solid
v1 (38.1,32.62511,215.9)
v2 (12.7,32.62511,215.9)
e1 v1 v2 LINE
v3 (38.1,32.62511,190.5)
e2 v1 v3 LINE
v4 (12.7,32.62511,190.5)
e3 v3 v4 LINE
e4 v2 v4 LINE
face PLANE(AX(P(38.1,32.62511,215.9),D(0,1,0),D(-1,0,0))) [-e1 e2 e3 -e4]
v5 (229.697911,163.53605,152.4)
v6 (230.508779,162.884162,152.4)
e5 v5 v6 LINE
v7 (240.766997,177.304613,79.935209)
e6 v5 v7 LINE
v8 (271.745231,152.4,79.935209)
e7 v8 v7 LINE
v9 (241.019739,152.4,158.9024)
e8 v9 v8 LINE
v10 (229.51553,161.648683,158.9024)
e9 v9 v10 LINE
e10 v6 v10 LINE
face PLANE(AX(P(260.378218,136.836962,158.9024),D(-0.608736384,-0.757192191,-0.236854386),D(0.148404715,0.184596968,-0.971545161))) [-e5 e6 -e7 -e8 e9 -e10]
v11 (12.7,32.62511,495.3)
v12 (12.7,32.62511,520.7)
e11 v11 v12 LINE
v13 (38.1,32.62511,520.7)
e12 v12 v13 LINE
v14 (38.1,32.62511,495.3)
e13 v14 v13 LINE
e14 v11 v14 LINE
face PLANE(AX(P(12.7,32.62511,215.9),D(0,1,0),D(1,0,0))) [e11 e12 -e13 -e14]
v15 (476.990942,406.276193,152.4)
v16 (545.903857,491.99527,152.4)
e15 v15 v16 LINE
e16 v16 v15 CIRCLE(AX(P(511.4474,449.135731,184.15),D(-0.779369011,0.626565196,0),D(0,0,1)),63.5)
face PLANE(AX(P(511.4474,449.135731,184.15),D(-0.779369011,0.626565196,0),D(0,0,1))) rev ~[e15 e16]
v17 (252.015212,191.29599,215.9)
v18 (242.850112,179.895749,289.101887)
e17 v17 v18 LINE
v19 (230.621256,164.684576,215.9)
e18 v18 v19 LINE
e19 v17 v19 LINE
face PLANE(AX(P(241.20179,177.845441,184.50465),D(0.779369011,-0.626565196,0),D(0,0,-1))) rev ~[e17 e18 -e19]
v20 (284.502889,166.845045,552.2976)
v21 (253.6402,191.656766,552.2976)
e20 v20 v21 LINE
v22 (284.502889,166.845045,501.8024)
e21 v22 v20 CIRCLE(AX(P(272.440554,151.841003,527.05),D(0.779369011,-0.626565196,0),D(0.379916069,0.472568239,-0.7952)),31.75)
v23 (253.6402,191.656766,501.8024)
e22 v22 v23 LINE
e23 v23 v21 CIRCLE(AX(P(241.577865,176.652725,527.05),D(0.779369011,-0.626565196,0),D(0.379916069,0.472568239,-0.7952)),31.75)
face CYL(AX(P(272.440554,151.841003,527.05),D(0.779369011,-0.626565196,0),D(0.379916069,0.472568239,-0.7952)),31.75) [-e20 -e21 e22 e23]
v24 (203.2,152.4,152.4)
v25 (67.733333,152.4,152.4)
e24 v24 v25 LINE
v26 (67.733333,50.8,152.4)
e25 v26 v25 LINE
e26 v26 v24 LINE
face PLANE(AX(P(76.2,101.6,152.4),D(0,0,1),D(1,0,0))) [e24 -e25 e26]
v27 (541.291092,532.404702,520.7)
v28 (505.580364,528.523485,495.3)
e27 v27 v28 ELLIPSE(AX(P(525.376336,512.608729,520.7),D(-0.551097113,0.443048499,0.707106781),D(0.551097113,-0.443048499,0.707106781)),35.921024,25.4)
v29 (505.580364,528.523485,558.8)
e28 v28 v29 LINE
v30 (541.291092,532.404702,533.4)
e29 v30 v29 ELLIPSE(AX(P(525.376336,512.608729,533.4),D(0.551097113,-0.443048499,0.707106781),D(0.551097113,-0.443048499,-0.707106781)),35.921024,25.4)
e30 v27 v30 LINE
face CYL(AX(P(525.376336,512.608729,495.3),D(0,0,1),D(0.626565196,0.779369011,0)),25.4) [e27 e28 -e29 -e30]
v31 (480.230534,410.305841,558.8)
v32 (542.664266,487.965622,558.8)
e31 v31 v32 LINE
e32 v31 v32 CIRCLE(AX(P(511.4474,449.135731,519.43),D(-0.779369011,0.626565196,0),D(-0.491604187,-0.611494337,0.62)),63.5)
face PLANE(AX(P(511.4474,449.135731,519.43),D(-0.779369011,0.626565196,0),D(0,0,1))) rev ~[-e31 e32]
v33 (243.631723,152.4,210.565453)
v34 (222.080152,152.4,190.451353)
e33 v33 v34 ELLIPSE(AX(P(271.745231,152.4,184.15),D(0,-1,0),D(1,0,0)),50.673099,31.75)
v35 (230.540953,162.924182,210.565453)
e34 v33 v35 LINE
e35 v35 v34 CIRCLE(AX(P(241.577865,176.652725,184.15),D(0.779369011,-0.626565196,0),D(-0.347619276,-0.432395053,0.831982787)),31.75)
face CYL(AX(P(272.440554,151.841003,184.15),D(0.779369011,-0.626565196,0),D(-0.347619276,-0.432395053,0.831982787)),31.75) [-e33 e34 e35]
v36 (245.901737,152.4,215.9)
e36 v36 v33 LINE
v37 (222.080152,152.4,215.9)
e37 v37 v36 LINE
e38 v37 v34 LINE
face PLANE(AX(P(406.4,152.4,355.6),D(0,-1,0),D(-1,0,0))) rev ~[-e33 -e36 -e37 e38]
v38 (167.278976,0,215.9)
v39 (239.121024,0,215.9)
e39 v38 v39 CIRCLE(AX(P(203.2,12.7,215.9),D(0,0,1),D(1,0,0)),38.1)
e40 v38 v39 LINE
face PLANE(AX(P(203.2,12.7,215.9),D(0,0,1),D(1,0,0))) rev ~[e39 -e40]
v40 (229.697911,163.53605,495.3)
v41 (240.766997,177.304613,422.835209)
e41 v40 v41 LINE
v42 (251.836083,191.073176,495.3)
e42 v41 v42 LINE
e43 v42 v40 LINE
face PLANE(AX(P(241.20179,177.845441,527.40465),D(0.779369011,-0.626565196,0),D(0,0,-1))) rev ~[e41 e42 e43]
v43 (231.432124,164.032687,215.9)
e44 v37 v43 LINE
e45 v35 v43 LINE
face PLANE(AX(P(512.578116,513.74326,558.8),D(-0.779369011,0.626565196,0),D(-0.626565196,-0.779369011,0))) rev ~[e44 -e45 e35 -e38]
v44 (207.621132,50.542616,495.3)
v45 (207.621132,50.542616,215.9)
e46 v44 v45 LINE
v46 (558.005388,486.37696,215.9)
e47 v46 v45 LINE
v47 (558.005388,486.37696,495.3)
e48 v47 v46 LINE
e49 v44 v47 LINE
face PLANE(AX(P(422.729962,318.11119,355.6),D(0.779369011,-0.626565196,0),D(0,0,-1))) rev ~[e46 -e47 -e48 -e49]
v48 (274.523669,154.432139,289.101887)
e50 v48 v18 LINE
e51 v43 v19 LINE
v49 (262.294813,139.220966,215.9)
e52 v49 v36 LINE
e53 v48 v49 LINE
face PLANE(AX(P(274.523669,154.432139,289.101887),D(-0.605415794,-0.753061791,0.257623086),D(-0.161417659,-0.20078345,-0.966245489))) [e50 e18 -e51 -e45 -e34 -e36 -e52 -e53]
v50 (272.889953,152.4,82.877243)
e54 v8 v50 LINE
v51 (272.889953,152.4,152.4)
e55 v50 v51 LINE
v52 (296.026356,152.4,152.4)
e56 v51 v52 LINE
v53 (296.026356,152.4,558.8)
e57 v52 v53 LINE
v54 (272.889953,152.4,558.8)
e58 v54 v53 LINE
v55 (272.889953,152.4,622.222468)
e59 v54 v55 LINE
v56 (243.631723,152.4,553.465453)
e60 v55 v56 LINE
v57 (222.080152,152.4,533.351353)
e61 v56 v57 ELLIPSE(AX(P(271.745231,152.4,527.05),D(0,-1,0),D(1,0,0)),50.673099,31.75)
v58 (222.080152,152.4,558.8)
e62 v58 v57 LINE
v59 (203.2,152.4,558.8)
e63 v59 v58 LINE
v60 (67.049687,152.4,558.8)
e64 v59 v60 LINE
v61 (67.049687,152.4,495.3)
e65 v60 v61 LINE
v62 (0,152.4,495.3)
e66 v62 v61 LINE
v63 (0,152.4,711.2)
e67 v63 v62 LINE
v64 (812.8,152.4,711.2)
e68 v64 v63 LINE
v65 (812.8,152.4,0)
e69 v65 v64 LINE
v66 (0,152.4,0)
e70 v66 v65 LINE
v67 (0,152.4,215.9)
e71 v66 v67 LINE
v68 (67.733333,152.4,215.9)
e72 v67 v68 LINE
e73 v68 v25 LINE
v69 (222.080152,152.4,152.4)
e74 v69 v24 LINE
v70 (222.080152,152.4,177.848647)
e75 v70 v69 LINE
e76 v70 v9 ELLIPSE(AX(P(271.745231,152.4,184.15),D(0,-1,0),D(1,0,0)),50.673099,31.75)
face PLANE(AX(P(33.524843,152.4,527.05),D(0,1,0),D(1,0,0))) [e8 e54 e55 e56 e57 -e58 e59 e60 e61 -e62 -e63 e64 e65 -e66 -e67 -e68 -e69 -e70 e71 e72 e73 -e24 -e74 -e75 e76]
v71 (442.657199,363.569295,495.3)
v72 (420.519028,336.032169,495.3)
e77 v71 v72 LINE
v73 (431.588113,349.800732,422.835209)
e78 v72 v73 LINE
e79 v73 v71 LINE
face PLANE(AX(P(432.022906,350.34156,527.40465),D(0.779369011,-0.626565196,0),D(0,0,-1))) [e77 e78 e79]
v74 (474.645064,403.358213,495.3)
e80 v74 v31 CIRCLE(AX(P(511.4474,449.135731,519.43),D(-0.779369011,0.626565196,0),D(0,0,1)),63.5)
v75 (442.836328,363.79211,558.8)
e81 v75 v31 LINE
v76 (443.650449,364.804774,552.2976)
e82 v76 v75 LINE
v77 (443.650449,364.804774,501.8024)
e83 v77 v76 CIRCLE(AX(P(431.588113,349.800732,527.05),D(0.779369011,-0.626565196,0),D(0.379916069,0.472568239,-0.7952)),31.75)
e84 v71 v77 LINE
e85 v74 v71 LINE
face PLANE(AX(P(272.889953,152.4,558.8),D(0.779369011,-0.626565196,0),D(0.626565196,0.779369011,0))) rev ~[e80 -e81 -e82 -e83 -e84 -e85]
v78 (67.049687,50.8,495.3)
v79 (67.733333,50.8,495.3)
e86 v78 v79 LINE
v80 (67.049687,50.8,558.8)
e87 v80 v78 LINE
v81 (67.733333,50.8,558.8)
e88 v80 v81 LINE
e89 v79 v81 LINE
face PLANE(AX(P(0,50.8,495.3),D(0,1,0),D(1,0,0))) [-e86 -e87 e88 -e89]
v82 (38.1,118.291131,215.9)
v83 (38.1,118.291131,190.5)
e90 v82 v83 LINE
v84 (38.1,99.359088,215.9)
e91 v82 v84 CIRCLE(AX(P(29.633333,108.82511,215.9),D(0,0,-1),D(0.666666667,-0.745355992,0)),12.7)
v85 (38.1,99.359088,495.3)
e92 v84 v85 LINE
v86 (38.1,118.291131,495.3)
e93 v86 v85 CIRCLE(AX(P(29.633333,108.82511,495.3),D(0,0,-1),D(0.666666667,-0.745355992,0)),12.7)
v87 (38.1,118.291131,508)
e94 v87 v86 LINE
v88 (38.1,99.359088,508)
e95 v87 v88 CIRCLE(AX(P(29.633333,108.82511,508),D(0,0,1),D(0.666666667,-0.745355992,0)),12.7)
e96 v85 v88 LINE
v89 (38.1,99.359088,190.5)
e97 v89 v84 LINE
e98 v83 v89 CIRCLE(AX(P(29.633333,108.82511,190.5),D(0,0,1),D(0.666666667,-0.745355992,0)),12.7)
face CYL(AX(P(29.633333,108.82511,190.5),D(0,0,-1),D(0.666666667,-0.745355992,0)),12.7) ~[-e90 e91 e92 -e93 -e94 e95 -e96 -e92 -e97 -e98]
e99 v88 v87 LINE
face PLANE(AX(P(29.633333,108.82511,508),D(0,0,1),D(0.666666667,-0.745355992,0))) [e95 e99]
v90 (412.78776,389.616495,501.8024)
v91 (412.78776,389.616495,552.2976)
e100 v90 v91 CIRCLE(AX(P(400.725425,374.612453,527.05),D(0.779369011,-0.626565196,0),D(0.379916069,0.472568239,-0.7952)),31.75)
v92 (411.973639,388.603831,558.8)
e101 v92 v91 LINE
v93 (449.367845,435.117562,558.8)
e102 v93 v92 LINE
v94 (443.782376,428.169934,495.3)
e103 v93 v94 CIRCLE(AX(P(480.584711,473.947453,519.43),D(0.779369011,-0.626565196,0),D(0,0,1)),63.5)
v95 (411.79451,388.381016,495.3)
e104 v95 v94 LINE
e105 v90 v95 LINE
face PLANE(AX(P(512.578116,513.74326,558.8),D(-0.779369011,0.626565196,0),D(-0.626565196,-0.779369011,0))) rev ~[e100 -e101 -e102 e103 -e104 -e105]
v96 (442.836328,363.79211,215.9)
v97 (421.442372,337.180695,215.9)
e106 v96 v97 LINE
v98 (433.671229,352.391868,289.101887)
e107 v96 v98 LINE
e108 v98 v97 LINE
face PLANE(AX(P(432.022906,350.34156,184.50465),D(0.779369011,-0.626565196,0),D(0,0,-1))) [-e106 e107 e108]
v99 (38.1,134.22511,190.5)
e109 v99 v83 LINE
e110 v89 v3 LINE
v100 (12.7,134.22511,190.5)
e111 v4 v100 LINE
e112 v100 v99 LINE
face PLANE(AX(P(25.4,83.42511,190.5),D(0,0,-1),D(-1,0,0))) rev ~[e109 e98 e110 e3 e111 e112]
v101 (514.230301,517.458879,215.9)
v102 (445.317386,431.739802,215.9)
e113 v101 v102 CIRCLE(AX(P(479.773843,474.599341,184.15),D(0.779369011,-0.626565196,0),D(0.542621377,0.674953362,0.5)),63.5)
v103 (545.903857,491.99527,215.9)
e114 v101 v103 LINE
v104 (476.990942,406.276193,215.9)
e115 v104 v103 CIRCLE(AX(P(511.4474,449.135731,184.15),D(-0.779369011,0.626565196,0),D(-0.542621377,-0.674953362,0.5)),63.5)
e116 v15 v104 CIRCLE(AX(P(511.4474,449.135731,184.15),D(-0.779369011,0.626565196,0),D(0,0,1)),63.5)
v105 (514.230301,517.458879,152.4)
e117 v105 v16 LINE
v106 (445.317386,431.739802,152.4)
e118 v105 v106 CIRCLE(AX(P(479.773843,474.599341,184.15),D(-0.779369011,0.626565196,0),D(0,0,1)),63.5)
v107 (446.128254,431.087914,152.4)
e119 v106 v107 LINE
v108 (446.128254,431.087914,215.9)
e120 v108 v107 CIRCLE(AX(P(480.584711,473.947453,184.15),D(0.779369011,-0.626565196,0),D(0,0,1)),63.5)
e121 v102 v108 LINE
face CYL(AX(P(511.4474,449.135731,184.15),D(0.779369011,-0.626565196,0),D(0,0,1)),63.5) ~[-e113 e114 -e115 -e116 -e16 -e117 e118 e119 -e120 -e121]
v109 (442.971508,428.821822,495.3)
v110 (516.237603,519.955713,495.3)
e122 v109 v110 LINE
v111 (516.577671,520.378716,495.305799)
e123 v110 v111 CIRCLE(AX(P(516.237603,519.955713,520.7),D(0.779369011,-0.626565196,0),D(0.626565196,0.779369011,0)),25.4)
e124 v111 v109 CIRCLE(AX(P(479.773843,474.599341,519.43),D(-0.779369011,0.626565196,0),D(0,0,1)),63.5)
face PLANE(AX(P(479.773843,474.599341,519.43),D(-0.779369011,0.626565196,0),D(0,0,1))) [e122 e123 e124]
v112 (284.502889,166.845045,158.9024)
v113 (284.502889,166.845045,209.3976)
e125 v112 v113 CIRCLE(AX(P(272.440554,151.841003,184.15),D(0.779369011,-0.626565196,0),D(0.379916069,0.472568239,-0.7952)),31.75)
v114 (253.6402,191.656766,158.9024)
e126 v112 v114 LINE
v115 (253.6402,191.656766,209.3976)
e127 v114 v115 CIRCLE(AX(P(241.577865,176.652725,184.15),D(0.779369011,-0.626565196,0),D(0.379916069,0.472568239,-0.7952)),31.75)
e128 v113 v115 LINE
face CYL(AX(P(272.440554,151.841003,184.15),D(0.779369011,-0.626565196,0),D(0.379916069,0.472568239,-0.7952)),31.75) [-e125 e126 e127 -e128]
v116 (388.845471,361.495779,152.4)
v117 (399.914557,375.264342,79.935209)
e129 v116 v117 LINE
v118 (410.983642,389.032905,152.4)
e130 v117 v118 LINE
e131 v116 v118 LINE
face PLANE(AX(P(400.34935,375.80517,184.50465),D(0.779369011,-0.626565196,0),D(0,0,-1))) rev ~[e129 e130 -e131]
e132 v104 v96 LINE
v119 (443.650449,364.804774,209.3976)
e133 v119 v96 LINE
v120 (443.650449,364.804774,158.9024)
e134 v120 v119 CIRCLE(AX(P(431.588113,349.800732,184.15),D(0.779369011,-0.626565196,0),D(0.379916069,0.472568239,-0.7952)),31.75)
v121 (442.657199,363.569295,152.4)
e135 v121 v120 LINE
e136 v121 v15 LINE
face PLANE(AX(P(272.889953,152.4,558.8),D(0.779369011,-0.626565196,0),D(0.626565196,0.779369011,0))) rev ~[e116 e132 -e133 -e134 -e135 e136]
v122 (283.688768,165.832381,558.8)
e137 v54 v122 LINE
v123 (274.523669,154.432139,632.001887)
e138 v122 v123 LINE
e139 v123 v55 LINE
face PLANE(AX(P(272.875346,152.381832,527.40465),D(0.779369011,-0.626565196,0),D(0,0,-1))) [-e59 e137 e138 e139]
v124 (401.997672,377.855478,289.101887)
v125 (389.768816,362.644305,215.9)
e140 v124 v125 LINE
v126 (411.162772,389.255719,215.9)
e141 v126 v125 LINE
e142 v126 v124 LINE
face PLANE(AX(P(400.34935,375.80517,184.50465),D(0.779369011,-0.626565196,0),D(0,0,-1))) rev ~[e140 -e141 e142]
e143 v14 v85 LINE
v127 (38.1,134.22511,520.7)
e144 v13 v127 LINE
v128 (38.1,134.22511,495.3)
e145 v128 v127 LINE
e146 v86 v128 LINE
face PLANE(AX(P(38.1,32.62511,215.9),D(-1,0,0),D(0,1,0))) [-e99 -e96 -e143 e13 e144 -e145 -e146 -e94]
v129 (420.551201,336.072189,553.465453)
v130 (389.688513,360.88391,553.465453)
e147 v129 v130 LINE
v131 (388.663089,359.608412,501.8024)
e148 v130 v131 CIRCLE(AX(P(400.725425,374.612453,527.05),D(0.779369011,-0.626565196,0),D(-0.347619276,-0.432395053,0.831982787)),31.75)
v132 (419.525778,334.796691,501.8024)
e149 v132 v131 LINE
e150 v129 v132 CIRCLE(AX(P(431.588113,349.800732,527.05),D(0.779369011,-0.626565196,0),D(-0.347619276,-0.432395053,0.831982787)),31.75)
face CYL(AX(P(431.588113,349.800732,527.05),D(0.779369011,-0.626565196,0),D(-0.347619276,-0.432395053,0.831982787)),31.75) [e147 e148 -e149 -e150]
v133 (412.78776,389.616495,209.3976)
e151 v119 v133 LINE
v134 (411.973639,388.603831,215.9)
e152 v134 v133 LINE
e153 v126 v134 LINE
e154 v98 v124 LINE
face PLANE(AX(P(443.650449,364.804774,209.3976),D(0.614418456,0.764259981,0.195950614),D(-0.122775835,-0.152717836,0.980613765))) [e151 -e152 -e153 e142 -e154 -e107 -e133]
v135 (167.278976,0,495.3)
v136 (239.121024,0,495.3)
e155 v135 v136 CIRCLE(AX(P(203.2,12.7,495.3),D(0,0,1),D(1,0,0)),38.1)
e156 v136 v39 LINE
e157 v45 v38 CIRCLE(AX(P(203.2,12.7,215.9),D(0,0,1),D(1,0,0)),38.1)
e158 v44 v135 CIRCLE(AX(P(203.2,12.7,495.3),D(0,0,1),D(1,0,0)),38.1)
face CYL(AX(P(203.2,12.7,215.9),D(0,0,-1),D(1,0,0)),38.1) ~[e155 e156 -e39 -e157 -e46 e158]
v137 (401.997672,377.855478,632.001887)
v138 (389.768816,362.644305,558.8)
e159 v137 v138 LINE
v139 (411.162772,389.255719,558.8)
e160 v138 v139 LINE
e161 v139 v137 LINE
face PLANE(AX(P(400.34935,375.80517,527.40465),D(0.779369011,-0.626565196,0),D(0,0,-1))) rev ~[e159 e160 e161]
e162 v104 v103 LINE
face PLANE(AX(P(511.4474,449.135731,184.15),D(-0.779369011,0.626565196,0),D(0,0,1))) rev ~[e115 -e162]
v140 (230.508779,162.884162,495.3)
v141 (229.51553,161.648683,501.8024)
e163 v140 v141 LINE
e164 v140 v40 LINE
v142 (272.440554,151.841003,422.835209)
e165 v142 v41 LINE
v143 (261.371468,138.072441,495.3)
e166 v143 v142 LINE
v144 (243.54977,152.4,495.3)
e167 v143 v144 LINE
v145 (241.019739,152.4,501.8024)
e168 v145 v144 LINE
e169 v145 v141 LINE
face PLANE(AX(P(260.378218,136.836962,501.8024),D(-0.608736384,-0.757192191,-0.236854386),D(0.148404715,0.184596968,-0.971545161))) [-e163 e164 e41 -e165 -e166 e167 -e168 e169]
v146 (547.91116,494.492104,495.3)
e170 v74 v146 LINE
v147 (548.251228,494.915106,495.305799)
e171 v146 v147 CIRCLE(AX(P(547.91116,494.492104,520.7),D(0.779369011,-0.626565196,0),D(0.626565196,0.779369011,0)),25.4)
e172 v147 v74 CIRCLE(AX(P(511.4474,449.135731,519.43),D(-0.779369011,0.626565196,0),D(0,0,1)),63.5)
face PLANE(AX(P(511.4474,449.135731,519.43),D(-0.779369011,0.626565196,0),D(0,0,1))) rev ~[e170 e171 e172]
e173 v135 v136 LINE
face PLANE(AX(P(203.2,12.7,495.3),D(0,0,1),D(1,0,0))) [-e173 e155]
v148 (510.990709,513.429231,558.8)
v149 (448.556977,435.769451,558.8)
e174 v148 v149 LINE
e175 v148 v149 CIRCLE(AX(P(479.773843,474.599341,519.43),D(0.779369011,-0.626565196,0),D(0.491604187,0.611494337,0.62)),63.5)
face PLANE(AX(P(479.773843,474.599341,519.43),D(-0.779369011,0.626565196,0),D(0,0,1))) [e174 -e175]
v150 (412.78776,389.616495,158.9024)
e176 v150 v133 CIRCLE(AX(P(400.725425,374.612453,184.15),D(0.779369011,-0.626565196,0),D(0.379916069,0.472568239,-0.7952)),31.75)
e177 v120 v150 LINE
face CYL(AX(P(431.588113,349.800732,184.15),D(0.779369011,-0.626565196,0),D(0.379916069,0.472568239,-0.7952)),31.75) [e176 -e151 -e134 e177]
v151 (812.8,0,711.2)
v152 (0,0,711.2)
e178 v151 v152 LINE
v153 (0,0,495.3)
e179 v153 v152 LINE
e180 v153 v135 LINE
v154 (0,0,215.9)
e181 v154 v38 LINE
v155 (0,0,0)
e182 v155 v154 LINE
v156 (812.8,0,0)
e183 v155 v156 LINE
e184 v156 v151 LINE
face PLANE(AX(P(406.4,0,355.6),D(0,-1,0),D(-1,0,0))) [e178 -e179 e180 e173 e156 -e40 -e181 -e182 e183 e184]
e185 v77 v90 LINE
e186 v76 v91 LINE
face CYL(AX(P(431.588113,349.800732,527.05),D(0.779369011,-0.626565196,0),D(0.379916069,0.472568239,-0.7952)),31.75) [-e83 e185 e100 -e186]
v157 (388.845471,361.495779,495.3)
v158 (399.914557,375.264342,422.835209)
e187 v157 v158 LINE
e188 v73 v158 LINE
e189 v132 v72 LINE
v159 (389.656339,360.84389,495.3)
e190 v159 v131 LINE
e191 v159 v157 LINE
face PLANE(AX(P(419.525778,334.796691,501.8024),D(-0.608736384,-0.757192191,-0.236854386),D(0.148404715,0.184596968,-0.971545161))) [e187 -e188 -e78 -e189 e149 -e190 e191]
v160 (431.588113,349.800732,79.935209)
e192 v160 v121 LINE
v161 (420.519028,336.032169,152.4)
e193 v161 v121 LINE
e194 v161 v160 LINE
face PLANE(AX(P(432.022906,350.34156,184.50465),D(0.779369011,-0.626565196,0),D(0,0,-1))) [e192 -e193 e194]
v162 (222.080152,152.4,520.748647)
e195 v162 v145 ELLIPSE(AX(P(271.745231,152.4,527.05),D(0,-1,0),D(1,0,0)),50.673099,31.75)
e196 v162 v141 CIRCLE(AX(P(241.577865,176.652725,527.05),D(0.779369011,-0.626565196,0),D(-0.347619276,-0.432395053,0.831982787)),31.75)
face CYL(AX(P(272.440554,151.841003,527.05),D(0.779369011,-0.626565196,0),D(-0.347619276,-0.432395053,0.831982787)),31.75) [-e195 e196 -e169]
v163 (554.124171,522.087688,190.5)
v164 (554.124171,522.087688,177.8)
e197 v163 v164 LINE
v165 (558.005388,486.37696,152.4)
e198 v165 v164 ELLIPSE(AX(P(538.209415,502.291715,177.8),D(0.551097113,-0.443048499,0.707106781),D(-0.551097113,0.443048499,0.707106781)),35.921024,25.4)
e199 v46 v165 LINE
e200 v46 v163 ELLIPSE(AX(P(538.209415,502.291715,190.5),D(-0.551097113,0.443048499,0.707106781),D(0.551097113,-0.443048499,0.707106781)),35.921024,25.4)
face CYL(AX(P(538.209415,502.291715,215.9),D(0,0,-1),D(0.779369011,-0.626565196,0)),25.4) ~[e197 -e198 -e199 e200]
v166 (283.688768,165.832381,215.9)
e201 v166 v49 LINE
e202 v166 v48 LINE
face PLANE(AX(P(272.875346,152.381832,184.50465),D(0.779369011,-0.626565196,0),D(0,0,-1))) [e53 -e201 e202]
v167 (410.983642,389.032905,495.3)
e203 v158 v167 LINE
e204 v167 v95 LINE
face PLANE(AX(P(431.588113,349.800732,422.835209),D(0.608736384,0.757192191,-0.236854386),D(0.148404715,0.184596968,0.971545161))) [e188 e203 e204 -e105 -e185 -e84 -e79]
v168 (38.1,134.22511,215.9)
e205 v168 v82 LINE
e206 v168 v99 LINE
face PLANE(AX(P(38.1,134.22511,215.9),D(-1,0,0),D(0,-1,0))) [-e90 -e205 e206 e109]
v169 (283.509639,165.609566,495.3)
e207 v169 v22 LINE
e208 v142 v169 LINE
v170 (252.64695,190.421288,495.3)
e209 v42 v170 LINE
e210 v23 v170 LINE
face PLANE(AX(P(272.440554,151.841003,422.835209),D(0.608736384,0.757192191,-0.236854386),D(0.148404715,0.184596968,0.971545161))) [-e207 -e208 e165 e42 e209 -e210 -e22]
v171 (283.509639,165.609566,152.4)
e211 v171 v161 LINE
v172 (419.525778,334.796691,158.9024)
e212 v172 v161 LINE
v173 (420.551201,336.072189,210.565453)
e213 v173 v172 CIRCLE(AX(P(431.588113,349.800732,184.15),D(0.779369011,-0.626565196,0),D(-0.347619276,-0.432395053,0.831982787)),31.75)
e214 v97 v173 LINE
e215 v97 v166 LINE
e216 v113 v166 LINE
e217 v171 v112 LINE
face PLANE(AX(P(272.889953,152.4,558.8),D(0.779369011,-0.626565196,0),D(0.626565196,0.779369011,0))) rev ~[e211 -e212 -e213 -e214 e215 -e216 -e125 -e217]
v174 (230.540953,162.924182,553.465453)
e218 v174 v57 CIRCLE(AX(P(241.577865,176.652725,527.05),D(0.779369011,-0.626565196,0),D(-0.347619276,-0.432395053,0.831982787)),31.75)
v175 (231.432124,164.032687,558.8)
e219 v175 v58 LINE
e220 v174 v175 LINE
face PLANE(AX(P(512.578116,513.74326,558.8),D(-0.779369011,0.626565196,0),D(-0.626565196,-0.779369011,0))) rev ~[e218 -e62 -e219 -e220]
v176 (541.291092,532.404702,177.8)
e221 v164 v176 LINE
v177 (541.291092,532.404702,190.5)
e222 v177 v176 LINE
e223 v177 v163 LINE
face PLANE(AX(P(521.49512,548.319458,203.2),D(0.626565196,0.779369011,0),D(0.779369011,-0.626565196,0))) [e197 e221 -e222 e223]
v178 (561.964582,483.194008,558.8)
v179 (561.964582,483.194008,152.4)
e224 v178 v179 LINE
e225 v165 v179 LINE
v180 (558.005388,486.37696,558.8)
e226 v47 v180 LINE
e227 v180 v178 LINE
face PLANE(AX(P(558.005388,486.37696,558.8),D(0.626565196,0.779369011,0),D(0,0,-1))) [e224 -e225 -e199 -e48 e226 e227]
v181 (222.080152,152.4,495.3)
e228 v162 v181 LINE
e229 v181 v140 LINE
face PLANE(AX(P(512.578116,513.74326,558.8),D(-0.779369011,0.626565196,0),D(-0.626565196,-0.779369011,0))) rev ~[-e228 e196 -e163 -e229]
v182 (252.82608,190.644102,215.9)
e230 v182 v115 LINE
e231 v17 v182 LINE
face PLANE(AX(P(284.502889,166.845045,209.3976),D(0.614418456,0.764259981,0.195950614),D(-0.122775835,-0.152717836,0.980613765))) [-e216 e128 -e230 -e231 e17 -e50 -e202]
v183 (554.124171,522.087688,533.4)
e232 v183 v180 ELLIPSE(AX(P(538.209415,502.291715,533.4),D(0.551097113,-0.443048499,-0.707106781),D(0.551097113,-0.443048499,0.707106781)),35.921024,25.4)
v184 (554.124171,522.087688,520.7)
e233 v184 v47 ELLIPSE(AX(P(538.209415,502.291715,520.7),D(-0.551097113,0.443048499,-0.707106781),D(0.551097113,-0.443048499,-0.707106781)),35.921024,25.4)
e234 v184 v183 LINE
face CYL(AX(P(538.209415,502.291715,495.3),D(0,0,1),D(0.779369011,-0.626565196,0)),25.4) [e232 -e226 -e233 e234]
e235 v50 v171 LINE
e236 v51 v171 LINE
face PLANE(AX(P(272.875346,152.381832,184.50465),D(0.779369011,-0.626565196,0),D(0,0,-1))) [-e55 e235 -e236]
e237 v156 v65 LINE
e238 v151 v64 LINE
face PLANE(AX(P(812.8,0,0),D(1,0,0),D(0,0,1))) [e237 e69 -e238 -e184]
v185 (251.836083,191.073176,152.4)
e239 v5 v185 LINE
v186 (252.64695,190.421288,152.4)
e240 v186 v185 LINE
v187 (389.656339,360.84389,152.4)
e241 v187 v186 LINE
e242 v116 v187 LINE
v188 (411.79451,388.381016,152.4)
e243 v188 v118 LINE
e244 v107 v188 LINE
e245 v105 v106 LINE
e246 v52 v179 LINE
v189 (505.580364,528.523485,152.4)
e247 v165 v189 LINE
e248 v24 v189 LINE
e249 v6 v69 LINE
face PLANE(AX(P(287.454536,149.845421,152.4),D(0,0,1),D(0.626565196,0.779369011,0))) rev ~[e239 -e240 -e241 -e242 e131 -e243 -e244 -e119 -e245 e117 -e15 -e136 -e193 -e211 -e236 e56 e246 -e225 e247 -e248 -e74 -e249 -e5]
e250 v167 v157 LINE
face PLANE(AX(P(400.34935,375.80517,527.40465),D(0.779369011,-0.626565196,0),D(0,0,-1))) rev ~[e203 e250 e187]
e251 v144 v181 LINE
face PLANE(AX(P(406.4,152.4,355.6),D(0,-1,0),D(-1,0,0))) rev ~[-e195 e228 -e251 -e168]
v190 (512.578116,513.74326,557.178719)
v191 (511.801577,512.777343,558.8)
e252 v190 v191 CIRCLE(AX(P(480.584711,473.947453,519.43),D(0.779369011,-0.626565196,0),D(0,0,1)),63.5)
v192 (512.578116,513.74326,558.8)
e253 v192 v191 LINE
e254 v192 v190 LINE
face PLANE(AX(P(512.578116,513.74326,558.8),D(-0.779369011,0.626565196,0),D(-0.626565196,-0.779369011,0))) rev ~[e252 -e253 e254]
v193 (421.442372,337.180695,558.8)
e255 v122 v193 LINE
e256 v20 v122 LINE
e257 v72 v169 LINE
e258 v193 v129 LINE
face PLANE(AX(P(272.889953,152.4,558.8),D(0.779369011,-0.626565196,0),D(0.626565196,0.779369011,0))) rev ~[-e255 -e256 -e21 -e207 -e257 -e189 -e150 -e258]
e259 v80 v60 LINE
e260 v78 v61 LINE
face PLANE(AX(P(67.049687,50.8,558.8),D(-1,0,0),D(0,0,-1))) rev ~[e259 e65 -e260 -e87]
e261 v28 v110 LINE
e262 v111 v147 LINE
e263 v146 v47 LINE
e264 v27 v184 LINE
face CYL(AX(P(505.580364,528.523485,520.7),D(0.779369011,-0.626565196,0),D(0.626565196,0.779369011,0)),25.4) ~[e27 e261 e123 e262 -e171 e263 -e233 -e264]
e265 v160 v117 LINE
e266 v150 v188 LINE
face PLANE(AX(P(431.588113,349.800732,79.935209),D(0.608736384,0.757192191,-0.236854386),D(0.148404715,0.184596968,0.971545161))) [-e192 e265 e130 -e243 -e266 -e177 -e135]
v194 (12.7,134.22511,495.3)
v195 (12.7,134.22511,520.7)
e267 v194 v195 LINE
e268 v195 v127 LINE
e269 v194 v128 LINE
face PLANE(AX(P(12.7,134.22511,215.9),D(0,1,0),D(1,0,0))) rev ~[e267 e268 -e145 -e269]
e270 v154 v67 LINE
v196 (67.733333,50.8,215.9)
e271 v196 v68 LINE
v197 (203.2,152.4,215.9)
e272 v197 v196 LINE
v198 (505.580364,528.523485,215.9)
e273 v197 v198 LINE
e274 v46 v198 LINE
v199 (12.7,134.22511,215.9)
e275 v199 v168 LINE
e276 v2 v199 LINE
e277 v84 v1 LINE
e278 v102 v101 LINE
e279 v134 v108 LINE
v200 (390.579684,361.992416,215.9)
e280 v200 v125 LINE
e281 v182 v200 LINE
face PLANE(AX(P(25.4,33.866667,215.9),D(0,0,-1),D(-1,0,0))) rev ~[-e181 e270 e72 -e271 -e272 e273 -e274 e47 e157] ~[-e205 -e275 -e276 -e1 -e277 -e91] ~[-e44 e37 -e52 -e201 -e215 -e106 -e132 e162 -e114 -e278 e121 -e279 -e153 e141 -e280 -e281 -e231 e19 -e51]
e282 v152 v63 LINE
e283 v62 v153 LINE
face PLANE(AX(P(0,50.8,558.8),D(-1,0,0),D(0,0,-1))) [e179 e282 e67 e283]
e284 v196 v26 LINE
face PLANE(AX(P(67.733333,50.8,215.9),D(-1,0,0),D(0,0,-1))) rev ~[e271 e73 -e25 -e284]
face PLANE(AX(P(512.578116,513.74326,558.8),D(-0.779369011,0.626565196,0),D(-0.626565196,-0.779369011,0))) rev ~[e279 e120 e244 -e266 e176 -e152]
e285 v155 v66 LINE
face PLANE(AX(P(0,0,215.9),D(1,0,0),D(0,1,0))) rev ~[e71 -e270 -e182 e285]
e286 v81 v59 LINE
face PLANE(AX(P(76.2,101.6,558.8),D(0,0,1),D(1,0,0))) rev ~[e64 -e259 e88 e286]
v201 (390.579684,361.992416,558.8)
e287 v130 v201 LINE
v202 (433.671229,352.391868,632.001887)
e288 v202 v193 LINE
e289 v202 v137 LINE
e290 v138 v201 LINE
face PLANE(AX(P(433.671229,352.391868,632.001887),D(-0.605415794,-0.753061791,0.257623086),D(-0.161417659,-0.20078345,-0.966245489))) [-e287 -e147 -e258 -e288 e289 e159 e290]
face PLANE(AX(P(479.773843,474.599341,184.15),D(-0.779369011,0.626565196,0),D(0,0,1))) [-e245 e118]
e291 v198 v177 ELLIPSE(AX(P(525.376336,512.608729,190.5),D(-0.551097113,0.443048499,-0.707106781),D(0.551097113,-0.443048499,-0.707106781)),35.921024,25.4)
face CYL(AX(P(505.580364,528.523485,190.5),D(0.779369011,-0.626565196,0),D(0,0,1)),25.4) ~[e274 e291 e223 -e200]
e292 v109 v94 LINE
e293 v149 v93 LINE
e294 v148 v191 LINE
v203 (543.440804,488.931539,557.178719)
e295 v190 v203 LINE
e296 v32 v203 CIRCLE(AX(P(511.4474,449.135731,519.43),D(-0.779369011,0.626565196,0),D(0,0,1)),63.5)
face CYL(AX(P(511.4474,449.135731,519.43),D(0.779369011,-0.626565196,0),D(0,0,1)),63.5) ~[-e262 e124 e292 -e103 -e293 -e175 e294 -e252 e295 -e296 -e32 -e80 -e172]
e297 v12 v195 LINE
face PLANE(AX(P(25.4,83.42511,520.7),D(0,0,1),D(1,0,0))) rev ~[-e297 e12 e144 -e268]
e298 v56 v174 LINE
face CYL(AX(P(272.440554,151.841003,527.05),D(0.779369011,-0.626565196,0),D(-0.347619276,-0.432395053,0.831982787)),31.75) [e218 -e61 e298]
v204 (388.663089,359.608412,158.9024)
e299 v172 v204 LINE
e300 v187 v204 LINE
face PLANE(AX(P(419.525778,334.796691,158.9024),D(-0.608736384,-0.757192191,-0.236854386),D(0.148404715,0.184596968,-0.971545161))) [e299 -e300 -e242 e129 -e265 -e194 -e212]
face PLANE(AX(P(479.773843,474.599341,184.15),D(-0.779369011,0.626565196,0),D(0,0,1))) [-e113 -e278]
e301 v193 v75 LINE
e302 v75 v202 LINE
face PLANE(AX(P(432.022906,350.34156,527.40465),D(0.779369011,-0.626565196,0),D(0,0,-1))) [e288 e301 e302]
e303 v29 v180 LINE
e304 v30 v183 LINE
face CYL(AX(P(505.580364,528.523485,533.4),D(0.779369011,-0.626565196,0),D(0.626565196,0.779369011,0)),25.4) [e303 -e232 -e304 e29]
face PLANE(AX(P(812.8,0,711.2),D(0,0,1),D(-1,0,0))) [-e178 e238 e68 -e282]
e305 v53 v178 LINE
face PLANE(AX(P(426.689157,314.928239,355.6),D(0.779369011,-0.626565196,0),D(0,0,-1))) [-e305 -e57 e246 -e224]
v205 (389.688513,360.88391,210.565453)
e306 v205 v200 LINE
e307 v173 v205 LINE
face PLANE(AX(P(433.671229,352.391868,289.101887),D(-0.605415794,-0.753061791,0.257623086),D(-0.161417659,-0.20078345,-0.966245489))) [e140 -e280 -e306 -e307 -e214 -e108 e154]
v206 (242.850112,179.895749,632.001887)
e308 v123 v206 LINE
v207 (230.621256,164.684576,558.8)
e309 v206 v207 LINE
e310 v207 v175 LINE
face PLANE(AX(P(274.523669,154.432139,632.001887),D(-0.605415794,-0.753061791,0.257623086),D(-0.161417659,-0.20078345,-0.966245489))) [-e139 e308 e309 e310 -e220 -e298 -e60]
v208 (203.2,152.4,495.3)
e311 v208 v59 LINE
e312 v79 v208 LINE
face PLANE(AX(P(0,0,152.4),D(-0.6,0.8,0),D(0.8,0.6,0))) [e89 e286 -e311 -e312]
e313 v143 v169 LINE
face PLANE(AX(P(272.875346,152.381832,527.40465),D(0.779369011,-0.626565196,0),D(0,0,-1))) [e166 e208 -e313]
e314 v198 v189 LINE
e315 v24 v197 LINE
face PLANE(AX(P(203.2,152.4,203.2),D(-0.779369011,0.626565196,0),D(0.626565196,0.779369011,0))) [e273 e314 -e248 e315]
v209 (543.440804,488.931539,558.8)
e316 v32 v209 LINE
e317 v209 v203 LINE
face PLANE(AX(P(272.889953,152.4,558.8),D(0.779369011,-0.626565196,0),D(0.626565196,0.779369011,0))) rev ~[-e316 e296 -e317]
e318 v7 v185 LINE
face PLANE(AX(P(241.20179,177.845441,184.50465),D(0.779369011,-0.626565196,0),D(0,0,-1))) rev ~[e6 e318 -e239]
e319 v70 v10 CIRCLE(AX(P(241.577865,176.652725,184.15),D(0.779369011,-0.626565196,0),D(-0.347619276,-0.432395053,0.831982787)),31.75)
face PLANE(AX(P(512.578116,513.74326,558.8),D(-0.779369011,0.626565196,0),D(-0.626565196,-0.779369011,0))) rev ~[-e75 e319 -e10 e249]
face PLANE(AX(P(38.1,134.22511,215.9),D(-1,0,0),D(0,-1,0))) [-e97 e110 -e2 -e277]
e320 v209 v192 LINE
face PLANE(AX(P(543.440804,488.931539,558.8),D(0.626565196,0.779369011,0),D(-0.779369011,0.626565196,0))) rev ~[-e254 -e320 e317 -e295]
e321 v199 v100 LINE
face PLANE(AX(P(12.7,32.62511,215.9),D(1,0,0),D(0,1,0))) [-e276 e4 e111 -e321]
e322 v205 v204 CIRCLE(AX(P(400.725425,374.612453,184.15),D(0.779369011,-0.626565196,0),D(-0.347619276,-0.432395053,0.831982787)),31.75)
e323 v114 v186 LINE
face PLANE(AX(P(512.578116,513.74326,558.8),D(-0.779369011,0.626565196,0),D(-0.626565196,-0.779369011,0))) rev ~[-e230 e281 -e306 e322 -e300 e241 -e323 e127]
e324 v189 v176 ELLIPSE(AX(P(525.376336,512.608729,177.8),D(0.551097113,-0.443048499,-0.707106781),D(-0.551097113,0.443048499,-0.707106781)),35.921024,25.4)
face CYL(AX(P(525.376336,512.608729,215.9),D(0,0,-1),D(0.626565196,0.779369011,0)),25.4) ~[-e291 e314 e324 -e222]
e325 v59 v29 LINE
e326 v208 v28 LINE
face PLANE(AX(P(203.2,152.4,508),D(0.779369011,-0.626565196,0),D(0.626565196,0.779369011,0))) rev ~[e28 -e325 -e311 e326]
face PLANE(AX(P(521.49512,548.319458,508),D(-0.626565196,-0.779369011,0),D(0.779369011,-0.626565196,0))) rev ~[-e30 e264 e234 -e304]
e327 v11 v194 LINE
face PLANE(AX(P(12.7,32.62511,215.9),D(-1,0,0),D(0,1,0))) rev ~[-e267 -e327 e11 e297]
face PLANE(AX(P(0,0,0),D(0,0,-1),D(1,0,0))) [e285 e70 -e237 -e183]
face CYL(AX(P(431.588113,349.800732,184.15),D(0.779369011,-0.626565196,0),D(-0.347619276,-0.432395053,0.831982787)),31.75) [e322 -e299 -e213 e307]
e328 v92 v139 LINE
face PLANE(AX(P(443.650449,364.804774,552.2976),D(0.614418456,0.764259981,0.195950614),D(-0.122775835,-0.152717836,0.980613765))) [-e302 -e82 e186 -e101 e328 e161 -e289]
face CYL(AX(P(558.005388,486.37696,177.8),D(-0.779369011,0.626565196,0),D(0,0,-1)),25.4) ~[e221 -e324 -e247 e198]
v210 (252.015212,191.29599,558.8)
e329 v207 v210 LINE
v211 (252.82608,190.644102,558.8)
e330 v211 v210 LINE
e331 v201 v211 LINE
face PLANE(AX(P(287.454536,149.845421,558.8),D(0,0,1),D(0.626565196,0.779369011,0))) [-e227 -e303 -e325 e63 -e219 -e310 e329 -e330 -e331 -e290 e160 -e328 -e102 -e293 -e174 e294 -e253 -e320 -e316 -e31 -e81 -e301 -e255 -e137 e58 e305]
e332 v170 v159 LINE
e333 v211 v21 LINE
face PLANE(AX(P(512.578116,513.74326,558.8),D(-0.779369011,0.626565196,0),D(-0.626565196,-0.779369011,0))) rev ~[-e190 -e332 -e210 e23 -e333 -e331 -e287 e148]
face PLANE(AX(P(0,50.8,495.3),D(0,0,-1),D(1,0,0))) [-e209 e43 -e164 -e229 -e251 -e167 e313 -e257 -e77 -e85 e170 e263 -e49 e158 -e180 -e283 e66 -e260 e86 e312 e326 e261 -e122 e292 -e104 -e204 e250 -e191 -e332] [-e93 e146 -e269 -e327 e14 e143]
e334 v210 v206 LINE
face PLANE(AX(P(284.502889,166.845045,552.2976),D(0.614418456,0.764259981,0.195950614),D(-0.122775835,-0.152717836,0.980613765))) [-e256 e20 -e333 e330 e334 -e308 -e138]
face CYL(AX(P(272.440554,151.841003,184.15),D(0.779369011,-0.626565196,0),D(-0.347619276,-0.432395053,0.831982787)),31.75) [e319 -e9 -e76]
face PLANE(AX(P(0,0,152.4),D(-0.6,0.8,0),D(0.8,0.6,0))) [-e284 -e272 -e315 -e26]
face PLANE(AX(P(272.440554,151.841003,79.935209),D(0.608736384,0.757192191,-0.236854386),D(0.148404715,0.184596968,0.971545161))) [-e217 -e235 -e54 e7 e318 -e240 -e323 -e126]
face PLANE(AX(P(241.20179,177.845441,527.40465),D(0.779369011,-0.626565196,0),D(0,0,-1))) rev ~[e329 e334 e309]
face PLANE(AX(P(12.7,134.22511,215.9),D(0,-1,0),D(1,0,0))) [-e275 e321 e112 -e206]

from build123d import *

# Parameters (mm, degrees)
BOSS_EXTRUDE1_DEPTH  = 152.4
CUT_EXTRUDE1_DEPTH   = 406.4
BOSS_EXTRUDE2_DEPTH  = 406.4
CUT_EXTRUDE3_DEPTH   = 508
BOSS_EXTRUDE3_DEPTH  = 25.4
BOSS_EXTRUDE4_DEPTH  = 25.4
BOSS_EXTRUDE5_DEPTH  = 12.7
BOSS_EXTRUDE6_DEPTH  = 12.7
CUT_EXTRUDE4_START   = -406.4
CUT_EXTRUDE4_DEPTH   = 406.4
FILLET1_R            = 25.4
SKETCH16_W           = 406.4
SKETCH16_H           = 431.79999999999995
BOSS_EXTRUDE8_DEPTH  = 5.08
CUT_EXTRUDE5_DEPTH   = 508
SKETCH20_W           = 25.39999999999924
SKETCH20_H           = 279.40000000000003
CUT_EXTRUDE6_DEPTH   = 508
BOSS_EXTRUDE9_DEPTH  = 40.64
SKETCH22_R           = 63.50000000000003
SKETCH22_R_2         = 63.49999999999997
BOSS_EXTRUDE10_DEPTH = 40.64
SKETCH23_R           = 38.1
CUT_EXTRUDE7_DEPTH   = 279.4
SKETCH24_W           = 279.4
SKETCH24_H           = 50.542616051246114
CUT_EXTRUDE8_DEPTH   = 182.88000000000048
SKETCH25_R           = 38.1
BOSS_EXTRUDE11_DEPTH = 279.4
BOSS_EXTRUDE12_DEPTH = 63.50000000000077
BOSS_EXTRUDE14_DEPTH = 63.50000000000077
SKETCH32_W           = 67.04968691962685
SKETCH32_H           = 63.49999999999994
SKETCH32_W_2         = 67.73333333333292
SKETCH32_H_2         = 63.49999999999997
BOSS_EXTRUDE15_DEPTH = 101.6
CUT_EXTRUDE9_DEPTH   = 25.4
SKETCH34_W           = 25.40000000000001
SKETCH34_H           = 101.6
CUT_EXTRUDE11_DEPTH  = 304.8
SKETCH36_R           = 12.7
BOSS_EXTRUDE16_DEPTH = 317.5


with BuildPart() as part:
    # Sketch1 → Boss-Extrude1 (new body)
    with BuildSketch(Plane(origin=(0, 0, 0), x_dir=(1, 0, 0), z_dir=(0, 1, 0))):
        Polygon((0, 0), (812.8, 0), (812.8000000000001, -711.1999999999999), (0, -711.1999999999999), align=None)
    extrude(amount=BOSS_EXTRUDE1_DEPTH)

    # Sketch2 → Cut-Extrude1 (cut)
    with BuildSketch(Plane(origin=(0, 0, 152.4), x_dir=(-1, 0, 0), z_dir=(0, 0, -1))):
        Polygon((0, 0), (-203.2, 152.4), (0, 152.4), align=None)
    extrude(amount=-CUT_EXTRUDE1_DEPTH, mode=Mode.SUBTRACT)

    # Sketch5 → Boss-Extrude2 (add)
    with BuildSketch(Plane.XY.offset(558.8)):
        Polygon((203.2, 152.4), (521.495119519974, 548.3194575791465), (554.1241709988542, 522.0876883607381), (256.91779556245336, 152.39999999999998), align=None)
    extrude(amount=-BOSS_EXTRUDE2_DEPTH)

    # Sketch6 → Cut-Extrude3 (cut)
    with BuildSketch(Plane(origin=(472.48898283734724, 587.7174054041558, 0), x_dir=(0.7793690109825708, -0.6265651959054618, 0), z_dir=(0.6265651959054618, 0.7793690109825708, 0))):
        Polygon((62.87924717566551, -203.2), (104.74523237533951, -203.2), (104.74523237533951, -508), (62.87924717566555, -508), align=None)
    extrude(amount=-CUT_EXTRUDE3_DEPTH, mode=Mode.SUBTRACT)

    # Sketch8 → Boss-Extrude3 (add)
    with BuildSketch(Plane(origin=(81.63518816150813, -65.62971704341768, 0), x_dir=(0, 0, -1), z_dir=(0.7793690109825717, -0.6265651959054606, 0))):
        Polygon((-558.8, 754.0938850817336), (-508, 754.0938850817336), (-508, 246.0938850817336), (-558.7999999999998, 246.0938850817336), align=None)
    extrude(amount=BOSS_EXTRUDE3_DEPTH)

    # Sketch9 → Boss-Extrude4 (add)
    with BuildSketch(Plane(origin=(81.63518816150813, -65.62971704341768, 0), x_dir=(0, 0, -1), z_dir=(0.7793690109825717, -0.6265651959054606, 0))):
        Polygon((-203.2, 754.0938850817341), (-152.39999999999998, 754.0938850817341), (-152.39999999999998, 246.09388508173413), (-203.19999999999993, 246.09388508173413), align=None)
    extrude(amount=BOSS_EXTRUDE4_DEPTH)

    # Sketch10 → Boss-Extrude5 (add)
    with BuildSketch(Plane.XY.offset(203.2)):
        Polygon((203.1999999999997, 152.40000000000092), (521.4951195199743, 548.319457579147), (573.920143877812, 506.1729323847398), (289.50826251979043, 152.39999999999992), (256.9177955624533, 152.39999999999986), (235.82905147888056, 126.16823078159206), align=None)
    extrude(amount=BOSS_EXTRUDE5_DEPTH)

    # Sketch11 → Boss-Extrude6 (add)
    with BuildSketch(Plane(origin=(0, 0, 508), x_dir=(-1, 0, 0), z_dir=(0, 0, -1))):
        Polygon((-573.9201438778116, 506.1729323847395), (-289.5082625197906, 152.40000000000015), (-256.91779556245325, 152.39999999999995), (-235.82905147888056, 126.16823078159206), (-203.1999999999997, 152.40000000000092), (-521.4951195199743, 548.319457579147), align=None)
    extrude(amount=BOSS_EXTRUDE6_DEPTH)

    # Sketch12 → Cut-Extrude4 (cut)
    with BuildSketch(Plane(origin=(0, 0, 152.39999999999975), x_dir=(-1, 0, 0), z_dir=(0, 0, -1)).offset(CUT_EXTRUDE4_START)):
        Polygon((-272.8899527583018, 152.4), (-543.4408043502763, 488.93153894227703), (-512.5781156253607, 513.7432601354462), (-222.08015203498906, 152.39999999999998), align=None)
    extrude(amount=CUT_EXTRUDE4_DEPTH, mode=Mode.SUBTRACT)

    # Fillet1
    fillet1_edges = [part.edges().sort_by_distance(p)[0] for p in [
        (547.7076316988932, 527.2461949819434, 215.89999999999998),
        (547.707631698893, 527.2461949819433, 495.3),
        (547.707631698893, 527.2461949819432, 152.39999999999998),
        (521.4951195199742, 548.3194575791467, 184.14999999999998),
        (547.7076316988928, 527.246194981943, 558.8),
        (521.4951195199742, 548.3194575791467, 527.05),
        (573.9201438778116, 506.17293238473945, 527.05),
        (573.920143877812, 506.17293238473985, 184.14999999999998),
    ]]
    fillet(fillet1_edges, radius=FILLET1_R)

    # Sketch16 → Boss-Extrude8 (add)
    with BuildSketch(Plane(origin=(101.43116104046555, -81.54447301941644, 0), x_dir=(0, 0, -1), z_dir=(0.7793690109825715, -0.6265651959054606, 0))):
        with Locations((-355.59999999999997, 512.7938850817336)):
            Rectangle(SKETCH16_W, SKETCH16_H)
    extrude(amount=BOSS_EXTRUDE8_DEPTH)

    # Sketch18 → Cut-Extrude5 (cut)
    with BuildSketch(Plane(origin=(154.19386331737303, 191.79794782500986, 0), x_dir=(0.7793690109825709, -0.6265651959054616, 0), z_dir=(0.6265651959054614, 0.7793690109825708, 0))):
        Polygon((62.8792471756653, -215.89999999999998), (4.163e-14, -215.89999999999998), (4.163e-14, -495.3), (62.8792471756653, -495.3), (104.74523237533926, -495.3), (130.1452323753393, -495.3), (130.14523237533894, -215.89999999999998), (104.74523237533926, -215.89999999999998), align=None)
    extrude(amount=-CUT_EXTRUDE5_DEPTH, mode=Mode.SUBTRACT)

    # Sketch20 → Cut-Extrude6 (cut)
    with BuildSketch(Plane(origin=(154.19386331737306, 191.79794782500986, 0), x_dir=(-0.7793690109825709, 0.6265651959054614, 0), z_dir=(-0.6265651959054614, -0.7793690109825709, 0))):
        with Locations((-117.44523237533932, -355.6)):
            Rectangle(SKETCH20_W, SKETCH20_H)
    extrude(amount=-CUT_EXTRUDE6_DEPTH, mode=Mode.SUBTRACT)

    # Sketch21 → Boss-Extrude9 (add)
    with BuildSketch(Plane(origin=(91.33693287972456, -73.42932864502501, 0), x_dir=(0, 0, 1), z_dir=(-0.7793690109825776, 0.6265651959054531, 0))):
        with BuildLine():
            Line((209.39759999999998, 562.2934659364746), (289.1018868532613, 546.366600042237))
            Line((289.1018868532613, 546.366600042237), (210.56545348218663, 525.4269956202154))
            ThreePointArc((210.56545348218663, 525.4269956202154), (185.1552700280405, 511.30785991563), (158.90239999999997, 523.7904170057728))
            Line((158.90239999999997, 523.7904170057728), (79.93520930816898, 543.0419414711238))
            Line((79.93520930816898, 543.0419414711238), (158.90239999999997, 562.2934659364746))
            ThreePointArc((158.90239999999997, 562.2934659364746), (184.14999999999998, 574.7919414711238), (209.39759999999998, 562.2934659364746))
        make_face()
        with BuildLine():
            Line((289.1018868532613, 292.366600042237), (210.56545348218663, 271.42699562021545))
            ThreePointArc((210.56545348218663, 271.42699562021545), (185.15527002804046, 257.30785991563005), (158.90239999999997, 269.7904170057729))
            Line((158.90239999999997, 269.7904170057729), (79.93520930816898, 289.0419414711237))
            Line((79.93520930816898, 289.0419414711237), (158.90239999999997, 308.29346593647455))
            ThreePointArc((158.90239999999997, 308.29346593647455), (184.14999999999998, 320.7919414711238), (209.39759999999998, 308.29346593647455))
            Line((209.39759999999998, 308.29346593647455), (289.1018868532613, 292.366600042237))
        make_face()
        with BuildLine():
            Line((632.0018868532613, 292.36660004223734), (553.4654534821866, 271.4269956202158))
            ThreePointArc((553.4654534821866, 271.4269956202158), (528.0552700280405, 257.3078599156303), (501.8024, 269.79041700577324))
            Line((501.8024, 269.79041700577324), (422.835209308169, 289.04194147112406))
            Line((422.835209308169, 289.04194147112406), (501.8024, 308.2934659364749))
            ThreePointArc((501.8024, 308.2934659364749), (527.0500000000001, 320.791941471124), (552.2976, 308.2934659364749))
            Line((552.2976, 308.2934659364749), (632.0018868532613, 292.36660004223734))
        make_face()
        with BuildLine():
            Line((501.8024, 523.7904170057732), (422.835209308169, 543.041941471124))
            Line((422.835209308169, 543.041941471124), (501.8024, 562.293465936475))
            ThreePointArc((501.8024, 562.293465936475), (527.0500000000001, 574.791941471124), (552.2976, 562.293465936475))
            Line((552.2976, 562.293465936475), (632.0018868532613, 546.3666000422373))
            Line((632.0018868532613, 546.3666000422373), (553.4654534821866, 525.4269956202157))
            ThreePointArc((553.4654534821866, 525.4269956202157), (528.0552700280405, 511.3078599156302), (501.8024, 523.7904170057732))
        make_face()
    extrude(amount=BOSS_EXTRUDE9_DEPTH)

    # Sketch22 → Boss-Extrude10 (add)
    with BuildSketch(Plane(origin=(91.33693287972456, -73.42932864502501, 0), x_dir=(0, 0, 1), z_dir=(-0.7793690109825776, 0.6265651959054531, 0))):
        with Locations((184.14999999999998, 670.4976110611291)):
            Circle(SKETCH22_R)
        with Locations((519.43, 670.4976110611292)):
            Circle(SKETCH22_R_2)
    extrude(amount=BOSS_EXTRUDE10_DEPTH)

    # Sketch23 → Cut-Extrude7 (cut)
    with BuildSketch(Plane.XY.offset(215.89999999999998)):
        with Locations((203.2, 12.700000000001378)):
            Circle(SKETCH23_R)
    extrude(amount=CUT_EXTRUDE7_DEPTH, mode=Mode.SUBTRACT)

    # Sketch24 → Cut-Extrude8 (cut)
    with BuildSketch(Plane.ZY):
        with Locations((355.59999999999997, 25.271308025623057)):
            Rectangle(SKETCH24_W, SKETCH24_H)
    extrude(amount=-CUT_EXTRUDE8_DEPTH, mode=Mode.SUBTRACT)

    # Sketch25 → Boss-Extrude11 (add)
    with BuildSketch(Plane.XY.offset(215.89999999999998)):
        with Locations((203.2, 12.700000000001378)):
            Circle(SKETCH25_R)
    extrude(amount=BOSS_EXTRUDE11_DEPTH)

    # Sketch26 → Boss-Extrude12 (add)
    with BuildSketch(Plane.XY.offset(215.89999999999998)):
        Polygon((0, 0), (-6.22e-15, 50.8), (67.73333333333265, 50.8), align=None)
    extrude(amount=-BOSS_EXTRUDE12_DEPTH)

    # Sketch30 → Boss-Extrude14 (add)
    with BuildSketch(Plane(origin=(0, 0, 495.3), x_dir=(-1, 0, 0), z_dir=(0, 0, -1))):
        Polygon((2.776e-14, -2.776e-14), (0, 50.79999999999997), (-67.73333333333278, 50.79999999999996), align=None)
    extrude(amount=-BOSS_EXTRUDE14_DEPTH)

    # Sketch32 → Boss-Extrude15 (add)
    with BuildSketch(Plane(origin=(5.2e-15, 50.79999999999997, 0), x_dir=(1, -1e-16, 0), z_dir=(1e-16, 1, 0))):
        with Locations((33.524843459813425, -527.05)):
            Rectangle(SKETCH32_W, SKETCH32_H)
        with Locations((33.86666666666645, -184.14999999999998)):
            Rectangle(SKETCH32_W_2, SKETCH32_H_2)
    extrude(amount=BOSS_EXTRUDE15_DEPTH)

    # Sketch33 → Cut-Extrude9 (cut)
    with BuildSketch(Plane.XY.offset(215.89999999999998)):
        Polygon((12.69999999999997, 134.2251095976107), (38.099999999999966, 134.2251095976107), (38.09999999999998, 32.625109597610695), (12.699999999999983, 32.625109597610695), align=None)
    extrude(amount=-CUT_EXTRUDE9_DEPTH, mode=Mode.SUBTRACT)

    # Sketch34 → Cut-Extrude11 (cut)
    with BuildSketch(Plane.XY.offset(215.89999999999998)):
        with Locations((25.399999999999977, 83.4251095976107)):
            Rectangle(SKETCH34_W, SKETCH34_H)
    extrude(amount=CUT_EXTRUDE11_DEPTH, mode=Mode.SUBTRACT)

    # Sketch36 → Boss-Extrude16 (add)
    with BuildSketch(Plane.XY.offset(190.49999999999997)):
        with Locations(Location((29.63333333333292, 108.82510959761069, 0), (0, 0, 311.810314896))):
            Circle(SKETCH36_R)
    extrude(amount=BOSS_EXTRUDE16_DEPTH)


solid = part.part
